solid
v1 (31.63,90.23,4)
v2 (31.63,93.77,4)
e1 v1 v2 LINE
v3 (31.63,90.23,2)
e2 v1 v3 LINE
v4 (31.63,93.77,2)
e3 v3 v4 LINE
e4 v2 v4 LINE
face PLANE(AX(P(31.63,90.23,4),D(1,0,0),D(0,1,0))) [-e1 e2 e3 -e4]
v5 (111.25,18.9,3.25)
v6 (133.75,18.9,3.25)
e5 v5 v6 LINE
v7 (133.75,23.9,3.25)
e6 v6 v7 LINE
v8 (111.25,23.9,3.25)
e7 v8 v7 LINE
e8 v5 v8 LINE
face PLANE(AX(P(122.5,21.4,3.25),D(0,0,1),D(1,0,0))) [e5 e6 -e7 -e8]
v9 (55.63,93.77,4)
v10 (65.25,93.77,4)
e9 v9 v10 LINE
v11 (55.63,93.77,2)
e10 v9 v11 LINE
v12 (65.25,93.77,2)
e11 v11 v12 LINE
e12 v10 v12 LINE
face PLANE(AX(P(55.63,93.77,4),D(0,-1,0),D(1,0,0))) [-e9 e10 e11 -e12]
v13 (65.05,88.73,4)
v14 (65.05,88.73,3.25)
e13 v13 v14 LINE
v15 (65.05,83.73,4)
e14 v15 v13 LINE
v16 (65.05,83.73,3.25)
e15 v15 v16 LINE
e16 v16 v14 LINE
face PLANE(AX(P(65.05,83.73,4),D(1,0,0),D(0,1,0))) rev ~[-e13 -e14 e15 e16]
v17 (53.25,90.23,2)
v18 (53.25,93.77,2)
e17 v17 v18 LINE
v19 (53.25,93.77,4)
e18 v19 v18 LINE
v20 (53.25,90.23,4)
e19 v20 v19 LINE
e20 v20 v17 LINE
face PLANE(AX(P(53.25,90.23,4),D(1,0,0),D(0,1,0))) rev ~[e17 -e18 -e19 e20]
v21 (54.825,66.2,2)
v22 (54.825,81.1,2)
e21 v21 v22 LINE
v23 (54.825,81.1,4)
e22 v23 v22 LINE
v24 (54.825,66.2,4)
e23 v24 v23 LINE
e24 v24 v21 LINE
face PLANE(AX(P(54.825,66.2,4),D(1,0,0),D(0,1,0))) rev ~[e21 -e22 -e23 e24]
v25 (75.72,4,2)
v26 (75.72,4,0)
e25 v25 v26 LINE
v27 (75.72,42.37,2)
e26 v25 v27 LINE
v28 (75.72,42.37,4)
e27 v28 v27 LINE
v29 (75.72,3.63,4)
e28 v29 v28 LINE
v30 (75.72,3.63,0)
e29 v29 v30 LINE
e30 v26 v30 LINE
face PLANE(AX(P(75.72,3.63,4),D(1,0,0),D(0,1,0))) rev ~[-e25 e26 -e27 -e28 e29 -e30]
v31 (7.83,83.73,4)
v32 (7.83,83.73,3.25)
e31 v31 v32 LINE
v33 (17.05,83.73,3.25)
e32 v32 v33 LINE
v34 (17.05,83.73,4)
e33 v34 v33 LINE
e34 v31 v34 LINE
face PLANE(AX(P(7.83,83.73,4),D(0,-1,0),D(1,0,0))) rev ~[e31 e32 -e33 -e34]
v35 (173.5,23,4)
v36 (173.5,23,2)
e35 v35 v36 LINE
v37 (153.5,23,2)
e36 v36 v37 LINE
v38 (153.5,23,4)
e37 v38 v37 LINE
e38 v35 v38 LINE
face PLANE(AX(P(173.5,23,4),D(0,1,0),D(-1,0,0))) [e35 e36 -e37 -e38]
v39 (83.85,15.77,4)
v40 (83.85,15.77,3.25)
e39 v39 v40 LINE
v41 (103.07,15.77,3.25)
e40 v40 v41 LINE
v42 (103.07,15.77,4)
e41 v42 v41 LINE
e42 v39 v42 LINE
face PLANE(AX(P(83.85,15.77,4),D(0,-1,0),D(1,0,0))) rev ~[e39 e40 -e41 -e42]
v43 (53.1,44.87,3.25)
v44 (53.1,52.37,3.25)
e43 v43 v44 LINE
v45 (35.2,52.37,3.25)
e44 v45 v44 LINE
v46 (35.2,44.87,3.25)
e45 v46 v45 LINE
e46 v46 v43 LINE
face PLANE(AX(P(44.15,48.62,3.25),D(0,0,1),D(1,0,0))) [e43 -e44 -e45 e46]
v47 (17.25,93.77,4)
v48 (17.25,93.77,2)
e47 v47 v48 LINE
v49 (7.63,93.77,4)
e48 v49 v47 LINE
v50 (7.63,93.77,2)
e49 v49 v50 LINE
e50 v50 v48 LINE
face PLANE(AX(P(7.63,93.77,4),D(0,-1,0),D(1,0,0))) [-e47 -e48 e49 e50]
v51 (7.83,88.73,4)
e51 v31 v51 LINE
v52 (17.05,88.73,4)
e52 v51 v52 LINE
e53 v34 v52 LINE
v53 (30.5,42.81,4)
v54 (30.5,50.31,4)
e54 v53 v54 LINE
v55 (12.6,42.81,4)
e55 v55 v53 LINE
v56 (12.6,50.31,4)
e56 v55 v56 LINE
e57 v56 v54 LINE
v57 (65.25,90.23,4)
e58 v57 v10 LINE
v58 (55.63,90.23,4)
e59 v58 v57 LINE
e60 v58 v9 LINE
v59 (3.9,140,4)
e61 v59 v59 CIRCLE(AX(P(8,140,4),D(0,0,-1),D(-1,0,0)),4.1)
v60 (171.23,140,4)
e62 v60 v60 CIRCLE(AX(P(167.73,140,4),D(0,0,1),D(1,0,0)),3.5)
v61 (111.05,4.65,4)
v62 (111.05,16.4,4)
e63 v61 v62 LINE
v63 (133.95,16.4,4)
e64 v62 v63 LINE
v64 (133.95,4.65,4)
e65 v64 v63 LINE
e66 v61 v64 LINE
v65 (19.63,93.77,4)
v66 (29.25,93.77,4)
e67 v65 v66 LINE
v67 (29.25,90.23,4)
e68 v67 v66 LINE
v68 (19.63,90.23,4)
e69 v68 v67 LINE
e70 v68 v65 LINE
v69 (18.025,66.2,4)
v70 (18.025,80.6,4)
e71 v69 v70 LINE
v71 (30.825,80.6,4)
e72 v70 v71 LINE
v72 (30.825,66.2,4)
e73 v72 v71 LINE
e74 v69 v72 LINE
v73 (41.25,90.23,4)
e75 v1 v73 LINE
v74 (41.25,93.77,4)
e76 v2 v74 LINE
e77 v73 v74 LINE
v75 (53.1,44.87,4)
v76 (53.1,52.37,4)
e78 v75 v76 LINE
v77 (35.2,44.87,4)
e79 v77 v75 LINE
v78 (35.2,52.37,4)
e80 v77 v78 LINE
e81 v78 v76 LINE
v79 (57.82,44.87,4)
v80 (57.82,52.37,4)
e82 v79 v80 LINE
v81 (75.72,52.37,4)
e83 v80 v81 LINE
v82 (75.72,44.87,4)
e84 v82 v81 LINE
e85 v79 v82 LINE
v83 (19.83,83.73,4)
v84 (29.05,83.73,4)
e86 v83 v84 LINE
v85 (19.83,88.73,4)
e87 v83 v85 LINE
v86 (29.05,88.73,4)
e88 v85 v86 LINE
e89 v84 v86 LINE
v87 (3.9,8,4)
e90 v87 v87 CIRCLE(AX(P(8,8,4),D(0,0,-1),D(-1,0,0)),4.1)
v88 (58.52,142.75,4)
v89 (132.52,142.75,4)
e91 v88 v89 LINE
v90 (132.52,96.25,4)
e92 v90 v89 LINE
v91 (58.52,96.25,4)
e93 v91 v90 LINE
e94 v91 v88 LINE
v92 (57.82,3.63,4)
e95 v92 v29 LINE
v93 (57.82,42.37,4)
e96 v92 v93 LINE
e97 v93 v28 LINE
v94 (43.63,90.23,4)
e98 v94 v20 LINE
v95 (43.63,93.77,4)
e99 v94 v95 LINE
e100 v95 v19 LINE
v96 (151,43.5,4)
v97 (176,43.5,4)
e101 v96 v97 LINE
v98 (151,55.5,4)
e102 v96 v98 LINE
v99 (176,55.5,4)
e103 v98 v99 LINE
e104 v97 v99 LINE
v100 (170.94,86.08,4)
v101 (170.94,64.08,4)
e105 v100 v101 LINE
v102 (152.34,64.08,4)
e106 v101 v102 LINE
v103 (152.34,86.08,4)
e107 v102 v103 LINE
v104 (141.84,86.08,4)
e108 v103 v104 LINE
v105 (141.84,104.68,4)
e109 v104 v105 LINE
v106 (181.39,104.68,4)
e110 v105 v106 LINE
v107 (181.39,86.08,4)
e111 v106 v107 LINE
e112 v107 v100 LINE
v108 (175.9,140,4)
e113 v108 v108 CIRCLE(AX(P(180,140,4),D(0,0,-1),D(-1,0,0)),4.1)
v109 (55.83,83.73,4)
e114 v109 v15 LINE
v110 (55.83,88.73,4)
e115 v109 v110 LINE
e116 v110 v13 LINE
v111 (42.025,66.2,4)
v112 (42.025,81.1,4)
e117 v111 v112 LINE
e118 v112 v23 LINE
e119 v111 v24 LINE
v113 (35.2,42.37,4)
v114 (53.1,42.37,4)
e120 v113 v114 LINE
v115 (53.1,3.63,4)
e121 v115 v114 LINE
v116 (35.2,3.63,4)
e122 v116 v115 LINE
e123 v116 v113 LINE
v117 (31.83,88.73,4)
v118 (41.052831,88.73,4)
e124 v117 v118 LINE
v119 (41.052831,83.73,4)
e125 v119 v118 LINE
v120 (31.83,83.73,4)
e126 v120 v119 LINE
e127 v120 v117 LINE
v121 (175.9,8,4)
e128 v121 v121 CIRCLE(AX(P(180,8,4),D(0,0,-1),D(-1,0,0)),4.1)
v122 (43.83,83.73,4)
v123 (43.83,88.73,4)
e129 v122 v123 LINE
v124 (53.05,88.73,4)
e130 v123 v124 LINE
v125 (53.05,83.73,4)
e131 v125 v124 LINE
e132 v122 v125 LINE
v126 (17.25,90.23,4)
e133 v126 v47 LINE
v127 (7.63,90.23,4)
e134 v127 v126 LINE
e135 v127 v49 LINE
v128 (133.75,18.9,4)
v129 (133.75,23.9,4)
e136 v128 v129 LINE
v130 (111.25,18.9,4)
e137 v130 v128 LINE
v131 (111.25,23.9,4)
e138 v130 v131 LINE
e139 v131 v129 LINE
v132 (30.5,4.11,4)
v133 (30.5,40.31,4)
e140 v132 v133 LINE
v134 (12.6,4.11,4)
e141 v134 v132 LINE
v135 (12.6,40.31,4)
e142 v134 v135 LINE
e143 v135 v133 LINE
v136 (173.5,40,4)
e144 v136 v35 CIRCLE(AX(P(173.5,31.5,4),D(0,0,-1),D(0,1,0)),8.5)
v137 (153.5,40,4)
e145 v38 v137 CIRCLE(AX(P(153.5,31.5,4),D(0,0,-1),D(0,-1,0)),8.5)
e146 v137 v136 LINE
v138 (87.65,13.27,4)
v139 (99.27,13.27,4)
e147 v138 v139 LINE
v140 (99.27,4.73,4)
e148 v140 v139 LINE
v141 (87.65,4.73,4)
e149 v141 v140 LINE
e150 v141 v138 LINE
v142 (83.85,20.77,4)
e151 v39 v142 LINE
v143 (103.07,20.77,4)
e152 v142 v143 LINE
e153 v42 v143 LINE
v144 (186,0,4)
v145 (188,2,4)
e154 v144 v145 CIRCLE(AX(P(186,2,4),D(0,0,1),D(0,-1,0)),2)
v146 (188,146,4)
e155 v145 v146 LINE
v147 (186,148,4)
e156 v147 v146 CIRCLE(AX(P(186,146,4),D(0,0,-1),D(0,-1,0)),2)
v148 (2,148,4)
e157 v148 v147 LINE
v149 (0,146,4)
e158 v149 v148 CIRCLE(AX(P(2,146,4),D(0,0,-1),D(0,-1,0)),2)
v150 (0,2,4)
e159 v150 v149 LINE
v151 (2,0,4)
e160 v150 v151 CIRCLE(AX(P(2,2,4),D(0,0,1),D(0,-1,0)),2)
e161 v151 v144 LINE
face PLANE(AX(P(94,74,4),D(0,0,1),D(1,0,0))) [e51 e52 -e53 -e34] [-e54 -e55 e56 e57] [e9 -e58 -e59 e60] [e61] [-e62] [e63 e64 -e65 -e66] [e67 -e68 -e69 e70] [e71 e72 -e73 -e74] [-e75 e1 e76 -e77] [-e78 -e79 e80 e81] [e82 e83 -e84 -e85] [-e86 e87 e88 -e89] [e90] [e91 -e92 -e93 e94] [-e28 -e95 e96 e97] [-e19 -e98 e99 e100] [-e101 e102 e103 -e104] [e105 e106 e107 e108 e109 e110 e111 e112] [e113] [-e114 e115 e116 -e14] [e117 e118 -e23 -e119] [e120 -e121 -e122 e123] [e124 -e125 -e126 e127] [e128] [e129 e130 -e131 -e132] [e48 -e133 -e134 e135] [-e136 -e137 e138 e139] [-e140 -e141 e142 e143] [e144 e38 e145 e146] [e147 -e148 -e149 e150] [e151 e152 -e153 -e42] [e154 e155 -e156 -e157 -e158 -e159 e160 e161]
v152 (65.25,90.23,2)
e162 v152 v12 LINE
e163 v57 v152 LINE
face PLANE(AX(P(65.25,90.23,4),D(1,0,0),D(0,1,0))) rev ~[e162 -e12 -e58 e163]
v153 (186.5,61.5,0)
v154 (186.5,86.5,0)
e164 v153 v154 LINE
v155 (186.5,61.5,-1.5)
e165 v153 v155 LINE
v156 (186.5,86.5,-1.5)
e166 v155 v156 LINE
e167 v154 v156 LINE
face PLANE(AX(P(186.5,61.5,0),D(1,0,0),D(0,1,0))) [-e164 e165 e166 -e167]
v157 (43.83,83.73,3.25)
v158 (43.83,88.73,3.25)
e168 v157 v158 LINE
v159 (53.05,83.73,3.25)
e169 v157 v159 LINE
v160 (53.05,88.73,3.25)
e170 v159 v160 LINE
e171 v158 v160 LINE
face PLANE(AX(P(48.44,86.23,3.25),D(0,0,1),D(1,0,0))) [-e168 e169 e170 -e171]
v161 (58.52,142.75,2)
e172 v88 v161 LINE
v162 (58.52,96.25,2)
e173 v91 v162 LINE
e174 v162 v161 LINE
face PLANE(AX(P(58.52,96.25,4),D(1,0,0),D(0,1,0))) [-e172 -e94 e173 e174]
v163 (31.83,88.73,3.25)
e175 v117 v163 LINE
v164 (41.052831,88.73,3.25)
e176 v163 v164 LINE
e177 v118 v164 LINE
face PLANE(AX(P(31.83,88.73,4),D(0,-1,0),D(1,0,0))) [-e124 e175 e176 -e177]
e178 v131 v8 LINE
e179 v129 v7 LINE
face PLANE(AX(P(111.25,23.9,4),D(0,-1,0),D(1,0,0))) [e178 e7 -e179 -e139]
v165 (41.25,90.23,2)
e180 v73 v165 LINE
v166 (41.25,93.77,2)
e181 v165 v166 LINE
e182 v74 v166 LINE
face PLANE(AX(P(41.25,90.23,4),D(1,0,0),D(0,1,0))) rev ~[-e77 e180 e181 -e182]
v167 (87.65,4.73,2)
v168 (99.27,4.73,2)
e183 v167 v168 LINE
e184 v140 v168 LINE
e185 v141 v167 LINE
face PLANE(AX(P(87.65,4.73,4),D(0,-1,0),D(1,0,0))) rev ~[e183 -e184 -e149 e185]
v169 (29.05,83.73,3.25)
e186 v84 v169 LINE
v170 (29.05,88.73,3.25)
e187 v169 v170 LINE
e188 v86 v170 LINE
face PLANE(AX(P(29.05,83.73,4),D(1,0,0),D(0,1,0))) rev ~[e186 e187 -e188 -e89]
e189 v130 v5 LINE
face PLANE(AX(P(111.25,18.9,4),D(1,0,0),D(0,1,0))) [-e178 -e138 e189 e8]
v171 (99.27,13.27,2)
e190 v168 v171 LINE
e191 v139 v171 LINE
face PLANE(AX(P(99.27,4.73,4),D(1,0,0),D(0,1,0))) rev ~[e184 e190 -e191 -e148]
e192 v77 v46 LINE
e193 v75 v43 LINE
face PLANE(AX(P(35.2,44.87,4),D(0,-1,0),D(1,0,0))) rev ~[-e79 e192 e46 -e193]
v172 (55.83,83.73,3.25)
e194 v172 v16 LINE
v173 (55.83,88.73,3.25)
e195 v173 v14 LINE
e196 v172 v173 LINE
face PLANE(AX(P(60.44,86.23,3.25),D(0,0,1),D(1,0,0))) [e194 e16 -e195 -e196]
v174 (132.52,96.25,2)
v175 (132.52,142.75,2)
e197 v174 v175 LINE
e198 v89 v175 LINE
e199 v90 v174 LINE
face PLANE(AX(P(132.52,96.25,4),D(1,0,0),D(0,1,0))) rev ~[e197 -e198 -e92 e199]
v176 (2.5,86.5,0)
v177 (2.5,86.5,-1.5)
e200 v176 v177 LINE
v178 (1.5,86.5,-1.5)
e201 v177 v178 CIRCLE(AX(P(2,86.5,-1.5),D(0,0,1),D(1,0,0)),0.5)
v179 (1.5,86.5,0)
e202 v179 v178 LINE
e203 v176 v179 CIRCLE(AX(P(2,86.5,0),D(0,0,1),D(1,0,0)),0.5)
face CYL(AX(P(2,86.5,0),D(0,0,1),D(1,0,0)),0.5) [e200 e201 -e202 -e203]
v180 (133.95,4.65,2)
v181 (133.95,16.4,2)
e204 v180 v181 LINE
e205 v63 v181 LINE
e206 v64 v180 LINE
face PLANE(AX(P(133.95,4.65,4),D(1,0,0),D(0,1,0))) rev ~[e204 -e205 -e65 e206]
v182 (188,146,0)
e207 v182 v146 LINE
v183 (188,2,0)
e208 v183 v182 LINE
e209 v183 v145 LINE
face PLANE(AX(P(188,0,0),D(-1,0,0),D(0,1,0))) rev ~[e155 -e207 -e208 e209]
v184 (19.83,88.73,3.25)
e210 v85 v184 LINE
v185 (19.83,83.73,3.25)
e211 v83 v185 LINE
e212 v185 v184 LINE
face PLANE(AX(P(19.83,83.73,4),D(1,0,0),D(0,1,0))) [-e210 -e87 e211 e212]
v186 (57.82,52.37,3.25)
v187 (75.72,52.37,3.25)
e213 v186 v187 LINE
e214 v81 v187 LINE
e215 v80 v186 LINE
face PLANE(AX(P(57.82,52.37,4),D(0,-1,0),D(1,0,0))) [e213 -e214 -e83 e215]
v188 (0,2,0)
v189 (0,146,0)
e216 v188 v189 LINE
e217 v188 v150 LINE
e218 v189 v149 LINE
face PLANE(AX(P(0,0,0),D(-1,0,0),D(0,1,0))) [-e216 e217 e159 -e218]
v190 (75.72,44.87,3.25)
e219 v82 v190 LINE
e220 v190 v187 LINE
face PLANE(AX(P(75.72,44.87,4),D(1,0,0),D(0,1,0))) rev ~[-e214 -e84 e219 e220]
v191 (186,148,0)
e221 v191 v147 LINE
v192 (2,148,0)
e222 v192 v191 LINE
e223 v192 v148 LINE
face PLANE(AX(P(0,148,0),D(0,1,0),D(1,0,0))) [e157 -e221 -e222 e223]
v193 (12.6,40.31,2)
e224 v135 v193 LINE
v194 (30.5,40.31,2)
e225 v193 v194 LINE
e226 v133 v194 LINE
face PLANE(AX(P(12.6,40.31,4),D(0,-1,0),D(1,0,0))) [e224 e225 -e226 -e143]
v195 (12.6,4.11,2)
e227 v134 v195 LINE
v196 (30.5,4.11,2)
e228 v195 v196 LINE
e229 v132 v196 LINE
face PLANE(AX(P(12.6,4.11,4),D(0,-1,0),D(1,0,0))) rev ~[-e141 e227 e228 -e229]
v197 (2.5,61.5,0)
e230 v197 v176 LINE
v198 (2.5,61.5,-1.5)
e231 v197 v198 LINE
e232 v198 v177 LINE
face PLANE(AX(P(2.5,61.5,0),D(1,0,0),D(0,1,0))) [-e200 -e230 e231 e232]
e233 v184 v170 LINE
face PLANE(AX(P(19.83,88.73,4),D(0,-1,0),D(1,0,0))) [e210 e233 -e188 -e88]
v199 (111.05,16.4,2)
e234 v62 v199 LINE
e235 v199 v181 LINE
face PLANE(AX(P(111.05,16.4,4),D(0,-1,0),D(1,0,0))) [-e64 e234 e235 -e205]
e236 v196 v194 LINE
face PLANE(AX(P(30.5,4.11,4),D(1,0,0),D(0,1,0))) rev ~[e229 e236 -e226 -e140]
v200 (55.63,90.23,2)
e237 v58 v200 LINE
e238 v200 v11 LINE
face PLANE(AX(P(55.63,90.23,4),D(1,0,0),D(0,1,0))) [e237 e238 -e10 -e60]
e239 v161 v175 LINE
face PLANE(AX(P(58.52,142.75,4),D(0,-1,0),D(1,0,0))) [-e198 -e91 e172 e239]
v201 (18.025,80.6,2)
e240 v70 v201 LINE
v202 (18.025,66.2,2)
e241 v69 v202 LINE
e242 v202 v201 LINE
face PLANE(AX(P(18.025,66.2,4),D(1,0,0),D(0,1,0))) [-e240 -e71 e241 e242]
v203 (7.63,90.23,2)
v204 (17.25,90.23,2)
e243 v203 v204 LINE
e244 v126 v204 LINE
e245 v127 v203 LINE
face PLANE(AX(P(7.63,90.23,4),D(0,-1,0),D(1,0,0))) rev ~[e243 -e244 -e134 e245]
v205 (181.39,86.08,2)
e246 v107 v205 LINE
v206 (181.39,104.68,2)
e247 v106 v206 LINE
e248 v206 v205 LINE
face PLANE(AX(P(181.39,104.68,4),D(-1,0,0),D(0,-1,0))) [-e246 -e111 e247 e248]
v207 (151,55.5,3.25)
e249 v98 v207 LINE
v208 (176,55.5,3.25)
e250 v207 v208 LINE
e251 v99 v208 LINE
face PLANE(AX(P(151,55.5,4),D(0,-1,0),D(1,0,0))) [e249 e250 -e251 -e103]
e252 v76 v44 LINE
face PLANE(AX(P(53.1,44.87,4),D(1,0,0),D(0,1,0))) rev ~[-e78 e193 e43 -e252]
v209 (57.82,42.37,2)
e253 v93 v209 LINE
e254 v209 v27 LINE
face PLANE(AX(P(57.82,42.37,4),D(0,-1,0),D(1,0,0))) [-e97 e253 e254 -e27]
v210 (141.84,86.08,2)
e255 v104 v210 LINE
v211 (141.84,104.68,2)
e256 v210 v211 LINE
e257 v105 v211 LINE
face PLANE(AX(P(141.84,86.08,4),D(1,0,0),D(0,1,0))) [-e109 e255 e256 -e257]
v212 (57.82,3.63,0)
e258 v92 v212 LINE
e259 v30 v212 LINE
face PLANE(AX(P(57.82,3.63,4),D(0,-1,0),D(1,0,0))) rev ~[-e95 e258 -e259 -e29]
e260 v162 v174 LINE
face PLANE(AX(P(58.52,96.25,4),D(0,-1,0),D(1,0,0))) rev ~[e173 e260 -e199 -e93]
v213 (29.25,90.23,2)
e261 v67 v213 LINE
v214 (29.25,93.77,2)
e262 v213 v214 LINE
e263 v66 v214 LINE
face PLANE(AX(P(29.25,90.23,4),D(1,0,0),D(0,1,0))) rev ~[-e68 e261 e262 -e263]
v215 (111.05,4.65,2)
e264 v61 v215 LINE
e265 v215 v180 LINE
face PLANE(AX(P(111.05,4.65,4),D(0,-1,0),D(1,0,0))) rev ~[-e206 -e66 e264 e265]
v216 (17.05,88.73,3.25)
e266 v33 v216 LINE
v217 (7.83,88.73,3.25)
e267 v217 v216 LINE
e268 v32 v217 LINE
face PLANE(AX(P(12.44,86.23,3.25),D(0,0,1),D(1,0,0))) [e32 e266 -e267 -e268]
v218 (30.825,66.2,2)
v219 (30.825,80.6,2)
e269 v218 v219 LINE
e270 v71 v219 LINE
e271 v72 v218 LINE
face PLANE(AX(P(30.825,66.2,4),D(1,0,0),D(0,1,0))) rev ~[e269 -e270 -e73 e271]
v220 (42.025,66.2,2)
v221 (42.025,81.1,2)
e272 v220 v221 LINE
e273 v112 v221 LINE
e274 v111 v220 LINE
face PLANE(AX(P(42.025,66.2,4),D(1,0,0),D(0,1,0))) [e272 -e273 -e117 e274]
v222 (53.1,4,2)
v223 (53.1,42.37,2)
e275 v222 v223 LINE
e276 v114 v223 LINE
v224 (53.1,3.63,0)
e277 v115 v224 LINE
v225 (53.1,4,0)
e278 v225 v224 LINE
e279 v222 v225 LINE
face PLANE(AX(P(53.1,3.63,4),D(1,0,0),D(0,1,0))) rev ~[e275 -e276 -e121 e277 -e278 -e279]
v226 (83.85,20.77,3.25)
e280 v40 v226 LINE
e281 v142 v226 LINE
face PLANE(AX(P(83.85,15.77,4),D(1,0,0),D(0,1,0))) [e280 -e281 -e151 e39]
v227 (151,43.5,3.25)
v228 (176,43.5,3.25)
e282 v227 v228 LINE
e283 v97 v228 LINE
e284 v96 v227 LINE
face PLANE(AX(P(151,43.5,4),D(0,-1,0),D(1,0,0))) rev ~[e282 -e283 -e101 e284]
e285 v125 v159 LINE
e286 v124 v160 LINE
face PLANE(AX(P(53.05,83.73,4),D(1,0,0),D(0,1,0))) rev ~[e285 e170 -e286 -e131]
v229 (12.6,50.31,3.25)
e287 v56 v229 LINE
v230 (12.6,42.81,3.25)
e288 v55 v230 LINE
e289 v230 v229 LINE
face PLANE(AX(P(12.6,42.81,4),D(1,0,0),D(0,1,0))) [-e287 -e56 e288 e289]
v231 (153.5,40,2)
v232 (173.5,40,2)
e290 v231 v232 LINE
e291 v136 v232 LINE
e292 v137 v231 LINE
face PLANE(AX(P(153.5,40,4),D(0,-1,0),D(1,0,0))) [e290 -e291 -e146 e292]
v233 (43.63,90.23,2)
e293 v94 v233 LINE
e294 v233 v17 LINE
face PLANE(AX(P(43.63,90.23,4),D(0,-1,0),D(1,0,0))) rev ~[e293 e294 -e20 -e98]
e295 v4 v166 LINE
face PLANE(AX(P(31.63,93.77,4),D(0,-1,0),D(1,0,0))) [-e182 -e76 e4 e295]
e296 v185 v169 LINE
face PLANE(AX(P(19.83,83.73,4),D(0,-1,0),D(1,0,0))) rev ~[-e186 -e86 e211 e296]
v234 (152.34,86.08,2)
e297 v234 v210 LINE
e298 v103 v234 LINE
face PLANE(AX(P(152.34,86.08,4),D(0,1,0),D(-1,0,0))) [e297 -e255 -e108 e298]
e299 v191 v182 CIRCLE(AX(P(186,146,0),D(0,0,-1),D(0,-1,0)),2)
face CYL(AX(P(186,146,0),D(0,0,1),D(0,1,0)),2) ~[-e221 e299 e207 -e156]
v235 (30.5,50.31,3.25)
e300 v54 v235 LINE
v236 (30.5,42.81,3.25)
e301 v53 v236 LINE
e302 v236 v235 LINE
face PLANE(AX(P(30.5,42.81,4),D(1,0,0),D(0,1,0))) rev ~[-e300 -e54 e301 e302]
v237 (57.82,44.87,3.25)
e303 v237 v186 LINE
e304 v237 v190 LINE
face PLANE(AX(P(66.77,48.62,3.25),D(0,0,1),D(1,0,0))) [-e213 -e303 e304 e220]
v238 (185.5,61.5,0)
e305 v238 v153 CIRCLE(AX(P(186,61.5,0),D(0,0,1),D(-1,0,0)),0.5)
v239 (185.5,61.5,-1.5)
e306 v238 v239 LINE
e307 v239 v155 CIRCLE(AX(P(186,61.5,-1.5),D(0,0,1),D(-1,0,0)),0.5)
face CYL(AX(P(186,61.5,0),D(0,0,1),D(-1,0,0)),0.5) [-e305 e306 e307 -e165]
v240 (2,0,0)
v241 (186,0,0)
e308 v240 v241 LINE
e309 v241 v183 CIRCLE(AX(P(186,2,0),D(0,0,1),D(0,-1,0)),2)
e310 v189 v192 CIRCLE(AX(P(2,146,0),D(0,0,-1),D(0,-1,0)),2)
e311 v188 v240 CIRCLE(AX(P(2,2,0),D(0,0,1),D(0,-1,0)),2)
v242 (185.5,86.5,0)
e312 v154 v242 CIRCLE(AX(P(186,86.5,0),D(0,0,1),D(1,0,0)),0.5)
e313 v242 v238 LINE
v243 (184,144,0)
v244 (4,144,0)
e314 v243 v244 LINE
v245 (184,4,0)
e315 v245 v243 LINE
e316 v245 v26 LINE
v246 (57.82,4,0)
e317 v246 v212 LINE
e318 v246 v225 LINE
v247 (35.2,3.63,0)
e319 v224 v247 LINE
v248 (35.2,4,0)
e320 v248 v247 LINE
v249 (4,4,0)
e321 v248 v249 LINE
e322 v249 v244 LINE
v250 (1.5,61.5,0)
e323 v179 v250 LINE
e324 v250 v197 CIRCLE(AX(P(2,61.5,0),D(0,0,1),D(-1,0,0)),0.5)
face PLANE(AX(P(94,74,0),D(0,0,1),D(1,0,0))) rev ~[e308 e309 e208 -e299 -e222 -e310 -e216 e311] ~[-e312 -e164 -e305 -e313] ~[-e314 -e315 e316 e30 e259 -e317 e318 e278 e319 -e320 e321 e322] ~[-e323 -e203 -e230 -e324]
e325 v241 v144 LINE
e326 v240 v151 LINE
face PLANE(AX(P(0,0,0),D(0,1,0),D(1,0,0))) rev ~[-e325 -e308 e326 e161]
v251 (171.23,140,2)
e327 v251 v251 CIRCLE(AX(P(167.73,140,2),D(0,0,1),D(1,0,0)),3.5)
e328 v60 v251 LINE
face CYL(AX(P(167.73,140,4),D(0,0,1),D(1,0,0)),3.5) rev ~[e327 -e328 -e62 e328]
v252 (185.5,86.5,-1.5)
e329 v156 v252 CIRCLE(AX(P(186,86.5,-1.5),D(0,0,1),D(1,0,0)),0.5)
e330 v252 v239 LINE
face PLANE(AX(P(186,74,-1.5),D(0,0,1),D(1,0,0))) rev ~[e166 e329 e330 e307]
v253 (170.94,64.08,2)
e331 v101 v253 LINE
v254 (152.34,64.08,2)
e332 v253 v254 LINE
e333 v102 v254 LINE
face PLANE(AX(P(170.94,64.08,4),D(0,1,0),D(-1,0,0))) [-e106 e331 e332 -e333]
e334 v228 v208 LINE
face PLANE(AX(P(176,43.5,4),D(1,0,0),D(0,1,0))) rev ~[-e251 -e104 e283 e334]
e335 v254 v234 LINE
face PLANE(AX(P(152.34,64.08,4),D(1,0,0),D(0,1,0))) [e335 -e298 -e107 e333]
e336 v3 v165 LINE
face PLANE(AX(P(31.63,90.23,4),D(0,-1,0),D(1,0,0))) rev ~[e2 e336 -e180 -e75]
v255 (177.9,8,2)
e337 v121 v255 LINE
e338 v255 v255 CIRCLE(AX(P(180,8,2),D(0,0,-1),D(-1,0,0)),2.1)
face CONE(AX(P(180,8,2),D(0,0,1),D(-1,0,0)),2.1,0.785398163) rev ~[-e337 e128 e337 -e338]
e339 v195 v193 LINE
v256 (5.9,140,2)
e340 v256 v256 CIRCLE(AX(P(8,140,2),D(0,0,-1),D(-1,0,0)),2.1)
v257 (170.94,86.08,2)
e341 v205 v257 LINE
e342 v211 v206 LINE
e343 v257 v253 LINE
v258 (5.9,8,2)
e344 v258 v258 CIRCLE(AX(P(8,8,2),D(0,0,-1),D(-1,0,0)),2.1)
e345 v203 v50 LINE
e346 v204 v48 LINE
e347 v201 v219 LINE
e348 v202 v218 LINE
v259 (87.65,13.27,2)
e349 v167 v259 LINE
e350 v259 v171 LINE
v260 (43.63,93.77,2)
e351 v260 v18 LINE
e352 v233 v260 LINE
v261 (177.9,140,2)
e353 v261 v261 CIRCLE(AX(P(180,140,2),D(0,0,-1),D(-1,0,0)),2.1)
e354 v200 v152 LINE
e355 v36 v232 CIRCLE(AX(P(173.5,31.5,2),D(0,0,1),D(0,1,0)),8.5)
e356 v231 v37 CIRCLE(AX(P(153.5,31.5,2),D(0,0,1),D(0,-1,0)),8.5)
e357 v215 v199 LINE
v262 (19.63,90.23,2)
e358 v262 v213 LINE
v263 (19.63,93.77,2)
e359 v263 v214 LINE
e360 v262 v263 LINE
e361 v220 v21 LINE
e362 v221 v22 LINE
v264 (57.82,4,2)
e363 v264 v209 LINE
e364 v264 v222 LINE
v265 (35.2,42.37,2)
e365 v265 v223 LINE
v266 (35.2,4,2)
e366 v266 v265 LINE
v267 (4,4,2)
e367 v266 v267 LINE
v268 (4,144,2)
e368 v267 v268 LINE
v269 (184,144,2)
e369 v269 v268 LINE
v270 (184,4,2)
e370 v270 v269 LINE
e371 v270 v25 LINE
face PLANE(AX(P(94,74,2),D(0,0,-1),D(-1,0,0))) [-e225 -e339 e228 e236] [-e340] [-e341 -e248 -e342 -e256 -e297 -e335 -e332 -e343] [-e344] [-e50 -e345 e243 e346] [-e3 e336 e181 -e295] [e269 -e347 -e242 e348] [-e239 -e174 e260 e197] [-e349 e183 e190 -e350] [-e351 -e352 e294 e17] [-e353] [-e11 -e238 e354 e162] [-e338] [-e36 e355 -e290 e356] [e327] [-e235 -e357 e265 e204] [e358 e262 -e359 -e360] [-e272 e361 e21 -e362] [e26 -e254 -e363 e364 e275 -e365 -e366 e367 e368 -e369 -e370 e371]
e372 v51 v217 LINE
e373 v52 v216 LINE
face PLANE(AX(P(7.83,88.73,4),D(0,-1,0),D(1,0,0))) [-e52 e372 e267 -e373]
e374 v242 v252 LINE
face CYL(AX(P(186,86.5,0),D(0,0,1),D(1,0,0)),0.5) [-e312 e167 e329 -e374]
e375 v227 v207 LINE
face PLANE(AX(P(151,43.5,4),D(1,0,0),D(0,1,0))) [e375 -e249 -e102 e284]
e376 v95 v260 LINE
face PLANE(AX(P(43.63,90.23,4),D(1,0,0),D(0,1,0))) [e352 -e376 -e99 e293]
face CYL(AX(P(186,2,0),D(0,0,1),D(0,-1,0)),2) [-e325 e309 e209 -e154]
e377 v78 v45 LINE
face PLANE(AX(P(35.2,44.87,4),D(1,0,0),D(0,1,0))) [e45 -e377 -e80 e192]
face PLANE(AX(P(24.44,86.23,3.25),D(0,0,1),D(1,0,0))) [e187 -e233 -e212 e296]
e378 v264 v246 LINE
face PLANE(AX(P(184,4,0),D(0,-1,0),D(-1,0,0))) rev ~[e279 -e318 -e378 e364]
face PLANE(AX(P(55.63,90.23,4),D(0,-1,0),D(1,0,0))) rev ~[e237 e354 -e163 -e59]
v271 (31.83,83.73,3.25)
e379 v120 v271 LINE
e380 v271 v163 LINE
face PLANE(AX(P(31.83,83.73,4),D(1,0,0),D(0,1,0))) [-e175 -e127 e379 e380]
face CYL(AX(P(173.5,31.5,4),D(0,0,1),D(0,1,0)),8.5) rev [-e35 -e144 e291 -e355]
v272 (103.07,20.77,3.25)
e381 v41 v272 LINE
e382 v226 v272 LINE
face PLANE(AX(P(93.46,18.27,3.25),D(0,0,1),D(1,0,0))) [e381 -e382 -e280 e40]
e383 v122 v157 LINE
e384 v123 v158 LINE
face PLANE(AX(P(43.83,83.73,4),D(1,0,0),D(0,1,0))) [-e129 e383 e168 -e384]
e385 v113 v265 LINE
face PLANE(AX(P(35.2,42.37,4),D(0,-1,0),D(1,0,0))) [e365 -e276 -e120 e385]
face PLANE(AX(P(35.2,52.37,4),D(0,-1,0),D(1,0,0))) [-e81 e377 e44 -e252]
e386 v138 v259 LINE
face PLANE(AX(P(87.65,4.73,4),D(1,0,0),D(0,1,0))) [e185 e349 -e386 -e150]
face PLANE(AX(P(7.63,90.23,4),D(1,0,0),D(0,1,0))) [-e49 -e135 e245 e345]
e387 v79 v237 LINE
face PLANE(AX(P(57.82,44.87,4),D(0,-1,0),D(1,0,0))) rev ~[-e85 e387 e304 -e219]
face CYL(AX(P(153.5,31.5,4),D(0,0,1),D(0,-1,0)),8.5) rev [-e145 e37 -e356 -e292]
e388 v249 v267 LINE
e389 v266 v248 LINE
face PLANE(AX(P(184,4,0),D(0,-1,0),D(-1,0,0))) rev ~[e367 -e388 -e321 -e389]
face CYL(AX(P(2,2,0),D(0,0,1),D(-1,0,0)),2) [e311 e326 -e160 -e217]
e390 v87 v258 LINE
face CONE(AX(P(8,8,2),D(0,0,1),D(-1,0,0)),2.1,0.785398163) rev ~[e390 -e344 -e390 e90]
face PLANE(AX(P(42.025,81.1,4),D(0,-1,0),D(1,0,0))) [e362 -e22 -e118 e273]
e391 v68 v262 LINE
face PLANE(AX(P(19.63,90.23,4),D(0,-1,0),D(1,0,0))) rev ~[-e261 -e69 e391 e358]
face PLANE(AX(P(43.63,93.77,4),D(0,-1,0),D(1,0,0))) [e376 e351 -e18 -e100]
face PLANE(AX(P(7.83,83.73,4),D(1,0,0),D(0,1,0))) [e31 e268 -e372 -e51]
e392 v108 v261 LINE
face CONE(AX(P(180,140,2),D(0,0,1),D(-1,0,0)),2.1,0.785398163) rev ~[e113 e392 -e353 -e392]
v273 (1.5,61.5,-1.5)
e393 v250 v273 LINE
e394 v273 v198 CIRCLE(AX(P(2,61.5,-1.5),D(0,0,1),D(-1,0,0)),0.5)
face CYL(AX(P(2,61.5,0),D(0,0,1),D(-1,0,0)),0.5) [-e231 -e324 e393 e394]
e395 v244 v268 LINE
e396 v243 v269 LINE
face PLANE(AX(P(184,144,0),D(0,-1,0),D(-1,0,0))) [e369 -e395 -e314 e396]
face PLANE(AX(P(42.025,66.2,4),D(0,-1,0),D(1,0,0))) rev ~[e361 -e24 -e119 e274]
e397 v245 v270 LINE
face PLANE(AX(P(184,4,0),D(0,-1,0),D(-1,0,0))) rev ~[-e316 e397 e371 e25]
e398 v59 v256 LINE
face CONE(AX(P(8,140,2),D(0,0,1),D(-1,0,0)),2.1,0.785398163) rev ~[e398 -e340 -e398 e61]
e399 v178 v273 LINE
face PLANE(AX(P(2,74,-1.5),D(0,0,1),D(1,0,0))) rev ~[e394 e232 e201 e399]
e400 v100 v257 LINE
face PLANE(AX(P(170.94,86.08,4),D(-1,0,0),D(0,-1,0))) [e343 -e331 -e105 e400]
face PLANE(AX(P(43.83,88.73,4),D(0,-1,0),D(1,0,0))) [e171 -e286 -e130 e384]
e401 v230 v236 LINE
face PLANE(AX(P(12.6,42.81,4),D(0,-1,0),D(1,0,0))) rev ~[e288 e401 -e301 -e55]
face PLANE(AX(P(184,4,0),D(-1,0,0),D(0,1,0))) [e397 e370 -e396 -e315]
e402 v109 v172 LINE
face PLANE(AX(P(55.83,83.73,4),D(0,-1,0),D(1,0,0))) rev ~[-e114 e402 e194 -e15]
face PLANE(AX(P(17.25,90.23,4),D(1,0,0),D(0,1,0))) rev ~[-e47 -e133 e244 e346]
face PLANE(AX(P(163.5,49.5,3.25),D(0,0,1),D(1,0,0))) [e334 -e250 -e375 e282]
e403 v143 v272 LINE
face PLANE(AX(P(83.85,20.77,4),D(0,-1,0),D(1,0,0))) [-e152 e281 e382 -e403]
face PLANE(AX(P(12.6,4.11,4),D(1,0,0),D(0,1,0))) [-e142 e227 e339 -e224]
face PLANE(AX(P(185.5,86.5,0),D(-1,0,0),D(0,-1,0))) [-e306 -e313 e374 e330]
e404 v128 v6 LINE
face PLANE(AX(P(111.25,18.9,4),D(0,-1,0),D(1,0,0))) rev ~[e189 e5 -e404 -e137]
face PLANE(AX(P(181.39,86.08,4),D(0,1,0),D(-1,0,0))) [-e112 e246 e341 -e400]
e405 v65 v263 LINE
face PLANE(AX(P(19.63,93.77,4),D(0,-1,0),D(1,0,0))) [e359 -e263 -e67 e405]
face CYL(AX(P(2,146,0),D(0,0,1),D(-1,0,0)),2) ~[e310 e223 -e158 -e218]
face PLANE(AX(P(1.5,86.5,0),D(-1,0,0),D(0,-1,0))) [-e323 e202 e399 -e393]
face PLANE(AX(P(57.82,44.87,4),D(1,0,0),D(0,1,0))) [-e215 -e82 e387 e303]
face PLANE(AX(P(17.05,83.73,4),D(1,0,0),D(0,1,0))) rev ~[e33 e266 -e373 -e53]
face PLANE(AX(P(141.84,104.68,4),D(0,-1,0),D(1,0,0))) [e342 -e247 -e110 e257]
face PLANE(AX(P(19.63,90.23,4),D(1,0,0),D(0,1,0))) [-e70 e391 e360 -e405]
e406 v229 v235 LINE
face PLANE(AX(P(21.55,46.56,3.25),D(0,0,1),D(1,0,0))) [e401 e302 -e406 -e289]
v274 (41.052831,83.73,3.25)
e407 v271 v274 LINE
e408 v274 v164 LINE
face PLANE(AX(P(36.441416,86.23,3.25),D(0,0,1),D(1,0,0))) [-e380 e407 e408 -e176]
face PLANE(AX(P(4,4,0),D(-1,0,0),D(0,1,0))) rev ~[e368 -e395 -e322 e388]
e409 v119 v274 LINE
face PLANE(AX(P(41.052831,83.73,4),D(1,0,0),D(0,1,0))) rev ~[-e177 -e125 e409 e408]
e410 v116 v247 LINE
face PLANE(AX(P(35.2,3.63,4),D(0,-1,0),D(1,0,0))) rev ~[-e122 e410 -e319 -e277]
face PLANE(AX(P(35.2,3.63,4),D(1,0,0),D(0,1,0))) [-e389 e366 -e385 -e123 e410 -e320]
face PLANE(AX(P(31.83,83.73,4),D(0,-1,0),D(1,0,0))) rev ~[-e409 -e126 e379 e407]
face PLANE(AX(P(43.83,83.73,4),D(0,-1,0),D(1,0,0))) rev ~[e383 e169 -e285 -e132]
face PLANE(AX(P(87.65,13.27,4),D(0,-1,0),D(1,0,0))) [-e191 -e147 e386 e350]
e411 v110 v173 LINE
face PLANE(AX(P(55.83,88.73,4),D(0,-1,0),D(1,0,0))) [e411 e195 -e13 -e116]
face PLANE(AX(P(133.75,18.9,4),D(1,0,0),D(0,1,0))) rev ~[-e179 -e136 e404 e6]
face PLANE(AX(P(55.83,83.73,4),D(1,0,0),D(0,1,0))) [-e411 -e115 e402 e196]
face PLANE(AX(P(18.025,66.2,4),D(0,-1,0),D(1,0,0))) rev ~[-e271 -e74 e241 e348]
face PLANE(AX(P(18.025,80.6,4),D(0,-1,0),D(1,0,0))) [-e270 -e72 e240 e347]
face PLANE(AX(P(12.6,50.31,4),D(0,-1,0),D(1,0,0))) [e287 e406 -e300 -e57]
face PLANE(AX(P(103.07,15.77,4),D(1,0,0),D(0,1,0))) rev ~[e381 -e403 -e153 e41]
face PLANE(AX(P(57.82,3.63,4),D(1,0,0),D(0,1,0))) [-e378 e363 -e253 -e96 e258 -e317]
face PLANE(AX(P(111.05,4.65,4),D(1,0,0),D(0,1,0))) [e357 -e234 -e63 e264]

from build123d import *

# Parameters (mm, degrees)
CROQUIS1_W              = 188
CROQUIS1_H              = 148
SALIENTE_EXTRUIR1_DEPTH = 4
CROQUIS2_R              = 2.1
CORTAR_EXTRUIR1_DEPTH   = 4
REDONDEO1_R             = 2
CHAFL_N1_SIZE           = 2
CORTAR_EXTRUIR4_REACH   = 6
CROQUIS4_R              = 3.5
CROQUIS4_W              = 17.9
CROQUIS4_H              = 36.2
CROQUIS4_W_2            = 9.62
CROQUIS4_H_2            = 3.54
CROQUIS4_H_3            = 38.74
CROQUIS4_W_3            = 11.62
CROQUIS4_H_4            = 8.54
CROQUIS4_W_4            = 22.9
CROQUIS4_H_5            = 11.75
CROQUIS4_W_5            = 74
CROQUIS4_H_6            = 46.5
CROQUIS4_W_6            = 12.8
CROQUIS4_H_7            = 14.4
CROQUIS4_H_8            = 14.9
CROQUIS5_W              = 180
CROQUIS5_H              = 140
CORTAR_EXTRUIR5_DEPTH   = 2
SALIENTE_EXTRUIR4_DEPTH = 1.5
CROQUIS8_W              = 17.9
CROQUIS8_H              = 7.5
CROQUIS8_W_2            = 19.22
CROQUIS8_H_2            = 5
CROQUIS8_W_3            = 22.5
CROQUIS8_W_4            = 25
CROQUIS8_H_3            = 12
CROQUIS8_W_5            = 9.22
CROQUIS8_W_6            = 9.222831243
CORTAR_EXTRUIR6_DEPTH   = 0.75


with BuildPart() as part:
    # Croquis1 → Saliente-Extruir1 (new body)
    with BuildSketch(Plane.XY):
        with Locations((94, 74)):
            Rectangle(CROQUIS1_W, CROQUIS1_H)
    extrude(amount=SALIENTE_EXTRUIR1_DEPTH)

    # Croquis2 → Cortar-Extruir1 (cut)
    with BuildSketch(Plane(origin=(0, 0, 0), x_dir=(-1, 0, 0), z_dir=(0, 0, -1))):
        with Locations((-8, 140)):
            Circle(CROQUIS2_R)
        with Locations((-180, 140)):
            Circle(CROQUIS2_R)
        with Locations((-180, 8)):
            Circle(CROQUIS2_R)
        with Locations((-8, 8)):
            Circle(CROQUIS2_R)
    extrude(amount=-CORTAR_EXTRUIR1_DEPTH, mode=Mode.SUBTRACT)

    # Redondeo1
    redondeo1_edges = [part.edges().sort_by_distance(p)[0] for p in [
        (0, 148, 2),
        (188, 148, 2),
        (188, 0, 2),
        (0, 0, 2),
    ]]
    fillet(redondeo1_edges, radius=REDONDEO1_R)

    # Chaflán1
    chafl_n1_edges = [part.edges().sort_by_distance(p)[0] for p in [
        (10.1, 8, 4),
        (182.1, 8, 4),
        (182.1, 140, 4),
        (10.1, 140, 4),
    ]]
    chamfer(chafl_n1_edges, length=CHAFL_N1_SIZE)

    # Croquis4 → Cortar-Extruir4 (cut, up to next)
    with BuildSketch(Plane.XY.offset(4), mode=Mode.PRIVATE) as cortar_extruir4_sk1:
        with Locations((167.73, 140)):
            Circle(CROQUIS4_R)
    cortar_extruir4_tool1 = extrude(cortar_extruir4_sk1.sketch, amount=-CORTAR_EXTRUIR4_REACH, mode=Mode.PRIVATE) & part.part
    add(cortar_extruir4_tool1.solids().sort_by_distance((167.73, 140, 4))[0], mode=Mode.SUBTRACT)
    # Croquis4 → Cortar-Extruir4 (cut, up to next)
    with BuildSketch(Plane.XY.offset(4), mode=Mode.PRIVATE) as cortar_extruir4_sk2:
        with Locations((21.55, 22.21)):
            Rectangle(CROQUIS4_W, CROQUIS4_H)
    cortar_extruir4_tool2 = extrude(cortar_extruir4_sk2.sketch, amount=-CORTAR_EXTRUIR4_REACH, mode=Mode.PRIVATE) & part.part
    add(cortar_extruir4_tool2.solids().sort_by_distance((21.55, 22.21, 4))[0], mode=Mode.SUBTRACT)
    # Croquis4 → Cortar-Extruir4 (cut, up to next)
    with BuildSketch(Plane.XY.offset(4), mode=Mode.PRIVATE) as cortar_extruir4_sk3:
        with Locations((36.44, 92)):
            Rectangle(CROQUIS4_W_2, CROQUIS4_H_2)
    cortar_extruir4_tool3 = extrude(cortar_extruir4_sk3.sketch, amount=-CORTAR_EXTRUIR4_REACH, mode=Mode.PRIVATE) & part.part
    add(cortar_extruir4_tool3.solids().sort_by_distance((36.44, 92, 4))[0], mode=Mode.SUBTRACT)
    # Croquis4 → Cortar-Extruir4 (cut, up to next)
    with BuildSketch(Plane.XY.offset(4), mode=Mode.PRIVATE) as cortar_extruir4_sk4:
        with Locations((44.15, 23)):
            Rectangle(CROQUIS4_W, CROQUIS4_H_3)
    cortar_extruir4_tool4 = extrude(cortar_extruir4_sk4.sketch, amount=-CORTAR_EXTRUIR4_REACH, mode=Mode.PRIVATE) & part.part
    add(cortar_extruir4_tool4.solids().sort_by_distance((44.15, 23, 4))[0], mode=Mode.SUBTRACT)
    # Croquis4 → Cortar-Extruir4 (cut, up to next)
    with BuildSketch(Plane.XY.offset(4), mode=Mode.PRIVATE) as cortar_extruir4_sk5:
        with Locations((66.77, 23)):
            Rectangle(CROQUIS4_W, CROQUIS4_H_3)
    cortar_extruir4_tool5 = extrude(cortar_extruir4_sk5.sketch, amount=-CORTAR_EXTRUIR4_REACH, mode=Mode.PRIVATE) & part.part
    add(cortar_extruir4_tool5.solids().sort_by_distance((66.77, 23, 4))[0], mode=Mode.SUBTRACT)
    # Croquis4 → Cortar-Extruir4 (cut, up to next)
    with BuildSketch(Plane.XY.offset(4), mode=Mode.PRIVATE) as cortar_extruir4_sk6:
        with Locations((93.46, 9)):
            Rectangle(CROQUIS4_W_3, CROQUIS4_H_4)
    cortar_extruir4_tool6 = extrude(cortar_extruir4_sk6.sketch, amount=-CORTAR_EXTRUIR4_REACH, mode=Mode.PRIVATE) & part.part
    add(cortar_extruir4_tool6.solids().sort_by_distance((93.46, 9, 4))[0], mode=Mode.SUBTRACT)
    # Croquis4 → Cortar-Extruir4 (cut, up to next)
    with BuildSketch(Plane.XY.offset(4), mode=Mode.PRIVATE) as cortar_extruir4_sk7:
        with Locations((122.5, 10.525)):
            Rectangle(CROQUIS4_W_4, CROQUIS4_H_5)
    cortar_extruir4_tool7 = extrude(cortar_extruir4_sk7.sketch, amount=-CORTAR_EXTRUIR4_REACH, mode=Mode.PRIVATE) & part.part
    add(cortar_extruir4_tool7.solids().sort_by_distance((122.5, 10.525, 4))[0], mode=Mode.SUBTRACT)
    # Croquis4 → Cortar-Extruir4 (cut, up to next)
    with BuildSketch(Plane.XY.offset(4), mode=Mode.PRIVATE) as cortar_extruir4_sk8:
        with Locations((12.44, 92)):
            Rectangle(CROQUIS4_W_2, CROQUIS4_H_2)
    cortar_extruir4_tool8 = extrude(cortar_extruir4_sk8.sketch, amount=-CORTAR_EXTRUIR4_REACH, mode=Mode.PRIVATE) & part.part
    add(cortar_extruir4_tool8.solids().sort_by_distance((12.44, 92, 4))[0], mode=Mode.SUBTRACT)
    # Croquis4 → Cortar-Extruir4 (cut, up to next)
    with BuildSketch(Plane.XY.offset(4), mode=Mode.PRIVATE) as cortar_extruir4_sk9:
        with Locations((48.44, 92)):
            Rectangle(CROQUIS4_W_2, CROQUIS4_H_2)
    cortar_extruir4_tool9 = extrude(cortar_extruir4_sk9.sketch, amount=-CORTAR_EXTRUIR4_REACH, mode=Mode.PRIVATE) & part.part
    add(cortar_extruir4_tool9.solids().sort_by_distance((48.44, 92, 4))[0], mode=Mode.SUBTRACT)
    # Croquis4 → Cortar-Extruir4 (cut, up to next)
    with BuildSketch(Plane.XY.offset(4), mode=Mode.PRIVATE) as cortar_extruir4_sk10:
        with Locations((24.44, 92)):
            Rectangle(CROQUIS4_W_2, CROQUIS4_H_2)
    cortar_extruir4_tool10 = extrude(cortar_extruir4_sk10.sketch, amount=-CORTAR_EXTRUIR4_REACH, mode=Mode.PRIVATE) & part.part
    add(cortar_extruir4_tool10.solids().sort_by_distance((24.44, 92, 4))[0], mode=Mode.SUBTRACT)
    # Croquis4 → Cortar-Extruir4 (cut, up to next)
    with BuildSketch(Plane.XY.offset(4), mode=Mode.PRIVATE) as cortar_extruir4_sk11:
        with Locations((60.44, 92)):
            Rectangle(CROQUIS4_W_2, CROQUIS4_H_2)
    cortar_extruir4_tool11 = extrude(cortar_extruir4_sk11.sketch, amount=-CORTAR_EXTRUIR4_REACH, mode=Mode.PRIVATE) & part.part
    add(cortar_extruir4_tool11.solids().sort_by_distance((60.44, 92, 4))[0], mode=Mode.SUBTRACT)
    # Croquis4 → Cortar-Extruir4 (cut, up to next)
    with BuildSketch(Plane.XY.offset(4), mode=Mode.PRIVATE) as cortar_extruir4_sk12:
        with Locations((95.52, 119.5)):
            Rectangle(CROQUIS4_W_5, CROQUIS4_H_6)
    cortar_extruir4_tool12 = extrude(cortar_extruir4_sk12.sketch, amount=-CORTAR_EXTRUIR4_REACH, mode=Mode.PRIVATE) & part.part
    add(cortar_extruir4_tool12.solids().sort_by_distance((95.52, 119.5, 4))[0], mode=Mode.SUBTRACT)
    # Croquis4 → Cortar-Extruir4 (cut, up to next)
    with BuildSketch(Plane.XY.offset(4), mode=Mode.PRIVATE) as cortar_extruir4_sk13:
        with Locations((24.425, 73.4)):
            Rectangle(CROQUIS4_W_6, CROQUIS4_H_7)
    cortar_extruir4_tool13 = extrude(cortar_extruir4_sk13.sketch, amount=-CORTAR_EXTRUIR4_REACH, mode=Mode.PRIVATE) & part.part
    add(cortar_extruir4_tool13.solids().sort_by_distance((24.425, 73.4, 4))[0], mode=Mode.SUBTRACT)
    # Croquis4 → Cortar-Extruir4 (cut, up to next)
    with BuildSketch(Plane.XY.offset(4), mode=Mode.PRIVATE) as cortar_extruir4_sk14:
        with Locations((48.425, 73.65)):
            Rectangle(CROQUIS4_W_6, CROQUIS4_H_8)
    cortar_extruir4_tool14 = extrude(cortar_extruir4_sk14.sketch, amount=-CORTAR_EXTRUIR4_REACH, mode=Mode.PRIVATE) & part.part
    add(cortar_extruir4_tool14.solids().sort_by_distance((48.425, 73.65, 4))[0], mode=Mode.SUBTRACT)
    # Croquis4 → Cortar-Extruir4 (cut, up to next)
    with BuildSketch(Plane.XY.offset(4), mode=Mode.PRIVATE) as cortar_extruir4_sk15:
        Polygon((141.84, 104.68), (181.39, 104.68), (181.39, 86.08), (170.94, 86.08), (170.94, 64.08), (152.34, 64.08), (152.34, 86.08), (141.84, 86.08), align=None)
    cortar_extruir4_tool15 = extrude(cortar_extruir4_sk15.sketch, amount=-CORTAR_EXTRUIR4_REACH, mode=Mode.PRIVATE) & part.part
    add(cortar_extruir4_tool15.solids().sort_by_distance((161.623936, 88.12411, 4))[0], mode=Mode.SUBTRACT)
    # Croquis4 → Cortar-Extruir4 (cut, up to next)
    with BuildSketch(Plane.XY.offset(4), mode=Mode.PRIVATE) as cortar_extruir4_sk16:
        with BuildLine():
            Line((153.5, 40), (173.5, 40))
            ThreePointArc((173.5, 40), (182, 31.5), (173.5, 23))
            Line((173.5, 23), (153.5, 23))
            ThreePointArc((153.5, 23), (145, 31.5), (153.5, 40))
        make_face()
    cortar_extruir4_tool16 = extrude(cortar_extruir4_sk16.sketch, amount=-CORTAR_EXTRUIR4_REACH, mode=Mode.PRIVATE) & part.part
    add(cortar_extruir4_tool16.solids().sort_by_distance((163.5, 31.5, 4))[0], mode=Mode.SUBTRACT)

    # Croquis5 → Cortar-Extruir5 (cut)
    with BuildSketch(Plane(origin=(0, 0, 0), x_dir=(-1, 0, 0), z_dir=(0, 0, -1))):
        with Locations((-94, 74)):
            Rectangle(CROQUIS5_W, CROQUIS5_H)
    extrude(amount=-CORTAR_EXTRUIR5_DEPTH, mode=Mode.SUBTRACT)

    # Croquis7 → Saliente-Extruir4 (add)
    with BuildSketch(Plane(origin=(0, 0, 0), x_dir=(-1, 0, 0), z_dir=(0, 0, -1))):
        with BuildLine():
            Line((-186.5, 61.5), (-186.5, 86.5))
            ThreePointArc((-186.5, 86.5), (-186, 87), (-185.5, 86.5))
            Line((-185.5, 86.5), (-185.5, 61.5))
            ThreePointArc((-185.5, 61.5), (-186, 61), (-186.5, 61.5))
        make_face()
        with BuildLine():
            Line((-2.5, 61.5), (-2.5, 86.5))
            ThreePointArc((-2.5, 86.5), (-2, 87), (-1.5, 86.5))
            Line((-1.5, 86.5), (-1.5, 61.5))
            ThreePointArc((-1.5, 61.5), (-2, 61), (-2.5, 61.5))
        make_face()
    extrude(amount=SALIENTE_EXTRUIR4_DEPTH)

    # Croquis8 → Cortar-Extruir6 (cut)
    with BuildSketch(Plane.XY.offset(4)):
        with Locations((21.55, 46.56)):
            Rectangle(CROQUIS8_W, CROQUIS8_H)
        with Locations((44.15, 48.62)):
            Rectangle(CROQUIS8_W, CROQUIS8_H)
        with Locations((66.77, 48.62)):
            Rectangle(CROQUIS8_W, CROQUIS8_H)
        with Locations((93.46, 18.27)):
            Rectangle(CROQUIS8_W_2, CROQUIS8_H_2)
        with Locations((122.5, 21.4)):
            Rectangle(CROQUIS8_W_3, CROQUIS8_H_2)
        with Locations((163.5, 49.5)):
            Rectangle(CROQUIS8_W_4, CROQUIS8_H_3)
        with Locations((12.44, 86.23)):
            Rectangle(CROQUIS8_W_5, CROQUIS8_H_2)
        with Locations((24.44, 86.23)):
            Rectangle(CROQUIS8_W_5, CROQUIS8_H_2)
        with Locations((36.441415621, 86.23)):
            Rectangle(CROQUIS8_W_6, CROQUIS8_H_2)
        with Locations((48.44, 86.23)):
            Rectangle(CROQUIS8_W_5, CROQUIS8_H_2)
        with Locations((60.44, 86.23)):
            Rectangle(CROQUIS8_W_5, CROQUIS8_H_2)
    extrude(amount=-CORTAR_EXTRUIR6_DEPTH, mode=Mode.SUBTRACT)


solid = part.part
